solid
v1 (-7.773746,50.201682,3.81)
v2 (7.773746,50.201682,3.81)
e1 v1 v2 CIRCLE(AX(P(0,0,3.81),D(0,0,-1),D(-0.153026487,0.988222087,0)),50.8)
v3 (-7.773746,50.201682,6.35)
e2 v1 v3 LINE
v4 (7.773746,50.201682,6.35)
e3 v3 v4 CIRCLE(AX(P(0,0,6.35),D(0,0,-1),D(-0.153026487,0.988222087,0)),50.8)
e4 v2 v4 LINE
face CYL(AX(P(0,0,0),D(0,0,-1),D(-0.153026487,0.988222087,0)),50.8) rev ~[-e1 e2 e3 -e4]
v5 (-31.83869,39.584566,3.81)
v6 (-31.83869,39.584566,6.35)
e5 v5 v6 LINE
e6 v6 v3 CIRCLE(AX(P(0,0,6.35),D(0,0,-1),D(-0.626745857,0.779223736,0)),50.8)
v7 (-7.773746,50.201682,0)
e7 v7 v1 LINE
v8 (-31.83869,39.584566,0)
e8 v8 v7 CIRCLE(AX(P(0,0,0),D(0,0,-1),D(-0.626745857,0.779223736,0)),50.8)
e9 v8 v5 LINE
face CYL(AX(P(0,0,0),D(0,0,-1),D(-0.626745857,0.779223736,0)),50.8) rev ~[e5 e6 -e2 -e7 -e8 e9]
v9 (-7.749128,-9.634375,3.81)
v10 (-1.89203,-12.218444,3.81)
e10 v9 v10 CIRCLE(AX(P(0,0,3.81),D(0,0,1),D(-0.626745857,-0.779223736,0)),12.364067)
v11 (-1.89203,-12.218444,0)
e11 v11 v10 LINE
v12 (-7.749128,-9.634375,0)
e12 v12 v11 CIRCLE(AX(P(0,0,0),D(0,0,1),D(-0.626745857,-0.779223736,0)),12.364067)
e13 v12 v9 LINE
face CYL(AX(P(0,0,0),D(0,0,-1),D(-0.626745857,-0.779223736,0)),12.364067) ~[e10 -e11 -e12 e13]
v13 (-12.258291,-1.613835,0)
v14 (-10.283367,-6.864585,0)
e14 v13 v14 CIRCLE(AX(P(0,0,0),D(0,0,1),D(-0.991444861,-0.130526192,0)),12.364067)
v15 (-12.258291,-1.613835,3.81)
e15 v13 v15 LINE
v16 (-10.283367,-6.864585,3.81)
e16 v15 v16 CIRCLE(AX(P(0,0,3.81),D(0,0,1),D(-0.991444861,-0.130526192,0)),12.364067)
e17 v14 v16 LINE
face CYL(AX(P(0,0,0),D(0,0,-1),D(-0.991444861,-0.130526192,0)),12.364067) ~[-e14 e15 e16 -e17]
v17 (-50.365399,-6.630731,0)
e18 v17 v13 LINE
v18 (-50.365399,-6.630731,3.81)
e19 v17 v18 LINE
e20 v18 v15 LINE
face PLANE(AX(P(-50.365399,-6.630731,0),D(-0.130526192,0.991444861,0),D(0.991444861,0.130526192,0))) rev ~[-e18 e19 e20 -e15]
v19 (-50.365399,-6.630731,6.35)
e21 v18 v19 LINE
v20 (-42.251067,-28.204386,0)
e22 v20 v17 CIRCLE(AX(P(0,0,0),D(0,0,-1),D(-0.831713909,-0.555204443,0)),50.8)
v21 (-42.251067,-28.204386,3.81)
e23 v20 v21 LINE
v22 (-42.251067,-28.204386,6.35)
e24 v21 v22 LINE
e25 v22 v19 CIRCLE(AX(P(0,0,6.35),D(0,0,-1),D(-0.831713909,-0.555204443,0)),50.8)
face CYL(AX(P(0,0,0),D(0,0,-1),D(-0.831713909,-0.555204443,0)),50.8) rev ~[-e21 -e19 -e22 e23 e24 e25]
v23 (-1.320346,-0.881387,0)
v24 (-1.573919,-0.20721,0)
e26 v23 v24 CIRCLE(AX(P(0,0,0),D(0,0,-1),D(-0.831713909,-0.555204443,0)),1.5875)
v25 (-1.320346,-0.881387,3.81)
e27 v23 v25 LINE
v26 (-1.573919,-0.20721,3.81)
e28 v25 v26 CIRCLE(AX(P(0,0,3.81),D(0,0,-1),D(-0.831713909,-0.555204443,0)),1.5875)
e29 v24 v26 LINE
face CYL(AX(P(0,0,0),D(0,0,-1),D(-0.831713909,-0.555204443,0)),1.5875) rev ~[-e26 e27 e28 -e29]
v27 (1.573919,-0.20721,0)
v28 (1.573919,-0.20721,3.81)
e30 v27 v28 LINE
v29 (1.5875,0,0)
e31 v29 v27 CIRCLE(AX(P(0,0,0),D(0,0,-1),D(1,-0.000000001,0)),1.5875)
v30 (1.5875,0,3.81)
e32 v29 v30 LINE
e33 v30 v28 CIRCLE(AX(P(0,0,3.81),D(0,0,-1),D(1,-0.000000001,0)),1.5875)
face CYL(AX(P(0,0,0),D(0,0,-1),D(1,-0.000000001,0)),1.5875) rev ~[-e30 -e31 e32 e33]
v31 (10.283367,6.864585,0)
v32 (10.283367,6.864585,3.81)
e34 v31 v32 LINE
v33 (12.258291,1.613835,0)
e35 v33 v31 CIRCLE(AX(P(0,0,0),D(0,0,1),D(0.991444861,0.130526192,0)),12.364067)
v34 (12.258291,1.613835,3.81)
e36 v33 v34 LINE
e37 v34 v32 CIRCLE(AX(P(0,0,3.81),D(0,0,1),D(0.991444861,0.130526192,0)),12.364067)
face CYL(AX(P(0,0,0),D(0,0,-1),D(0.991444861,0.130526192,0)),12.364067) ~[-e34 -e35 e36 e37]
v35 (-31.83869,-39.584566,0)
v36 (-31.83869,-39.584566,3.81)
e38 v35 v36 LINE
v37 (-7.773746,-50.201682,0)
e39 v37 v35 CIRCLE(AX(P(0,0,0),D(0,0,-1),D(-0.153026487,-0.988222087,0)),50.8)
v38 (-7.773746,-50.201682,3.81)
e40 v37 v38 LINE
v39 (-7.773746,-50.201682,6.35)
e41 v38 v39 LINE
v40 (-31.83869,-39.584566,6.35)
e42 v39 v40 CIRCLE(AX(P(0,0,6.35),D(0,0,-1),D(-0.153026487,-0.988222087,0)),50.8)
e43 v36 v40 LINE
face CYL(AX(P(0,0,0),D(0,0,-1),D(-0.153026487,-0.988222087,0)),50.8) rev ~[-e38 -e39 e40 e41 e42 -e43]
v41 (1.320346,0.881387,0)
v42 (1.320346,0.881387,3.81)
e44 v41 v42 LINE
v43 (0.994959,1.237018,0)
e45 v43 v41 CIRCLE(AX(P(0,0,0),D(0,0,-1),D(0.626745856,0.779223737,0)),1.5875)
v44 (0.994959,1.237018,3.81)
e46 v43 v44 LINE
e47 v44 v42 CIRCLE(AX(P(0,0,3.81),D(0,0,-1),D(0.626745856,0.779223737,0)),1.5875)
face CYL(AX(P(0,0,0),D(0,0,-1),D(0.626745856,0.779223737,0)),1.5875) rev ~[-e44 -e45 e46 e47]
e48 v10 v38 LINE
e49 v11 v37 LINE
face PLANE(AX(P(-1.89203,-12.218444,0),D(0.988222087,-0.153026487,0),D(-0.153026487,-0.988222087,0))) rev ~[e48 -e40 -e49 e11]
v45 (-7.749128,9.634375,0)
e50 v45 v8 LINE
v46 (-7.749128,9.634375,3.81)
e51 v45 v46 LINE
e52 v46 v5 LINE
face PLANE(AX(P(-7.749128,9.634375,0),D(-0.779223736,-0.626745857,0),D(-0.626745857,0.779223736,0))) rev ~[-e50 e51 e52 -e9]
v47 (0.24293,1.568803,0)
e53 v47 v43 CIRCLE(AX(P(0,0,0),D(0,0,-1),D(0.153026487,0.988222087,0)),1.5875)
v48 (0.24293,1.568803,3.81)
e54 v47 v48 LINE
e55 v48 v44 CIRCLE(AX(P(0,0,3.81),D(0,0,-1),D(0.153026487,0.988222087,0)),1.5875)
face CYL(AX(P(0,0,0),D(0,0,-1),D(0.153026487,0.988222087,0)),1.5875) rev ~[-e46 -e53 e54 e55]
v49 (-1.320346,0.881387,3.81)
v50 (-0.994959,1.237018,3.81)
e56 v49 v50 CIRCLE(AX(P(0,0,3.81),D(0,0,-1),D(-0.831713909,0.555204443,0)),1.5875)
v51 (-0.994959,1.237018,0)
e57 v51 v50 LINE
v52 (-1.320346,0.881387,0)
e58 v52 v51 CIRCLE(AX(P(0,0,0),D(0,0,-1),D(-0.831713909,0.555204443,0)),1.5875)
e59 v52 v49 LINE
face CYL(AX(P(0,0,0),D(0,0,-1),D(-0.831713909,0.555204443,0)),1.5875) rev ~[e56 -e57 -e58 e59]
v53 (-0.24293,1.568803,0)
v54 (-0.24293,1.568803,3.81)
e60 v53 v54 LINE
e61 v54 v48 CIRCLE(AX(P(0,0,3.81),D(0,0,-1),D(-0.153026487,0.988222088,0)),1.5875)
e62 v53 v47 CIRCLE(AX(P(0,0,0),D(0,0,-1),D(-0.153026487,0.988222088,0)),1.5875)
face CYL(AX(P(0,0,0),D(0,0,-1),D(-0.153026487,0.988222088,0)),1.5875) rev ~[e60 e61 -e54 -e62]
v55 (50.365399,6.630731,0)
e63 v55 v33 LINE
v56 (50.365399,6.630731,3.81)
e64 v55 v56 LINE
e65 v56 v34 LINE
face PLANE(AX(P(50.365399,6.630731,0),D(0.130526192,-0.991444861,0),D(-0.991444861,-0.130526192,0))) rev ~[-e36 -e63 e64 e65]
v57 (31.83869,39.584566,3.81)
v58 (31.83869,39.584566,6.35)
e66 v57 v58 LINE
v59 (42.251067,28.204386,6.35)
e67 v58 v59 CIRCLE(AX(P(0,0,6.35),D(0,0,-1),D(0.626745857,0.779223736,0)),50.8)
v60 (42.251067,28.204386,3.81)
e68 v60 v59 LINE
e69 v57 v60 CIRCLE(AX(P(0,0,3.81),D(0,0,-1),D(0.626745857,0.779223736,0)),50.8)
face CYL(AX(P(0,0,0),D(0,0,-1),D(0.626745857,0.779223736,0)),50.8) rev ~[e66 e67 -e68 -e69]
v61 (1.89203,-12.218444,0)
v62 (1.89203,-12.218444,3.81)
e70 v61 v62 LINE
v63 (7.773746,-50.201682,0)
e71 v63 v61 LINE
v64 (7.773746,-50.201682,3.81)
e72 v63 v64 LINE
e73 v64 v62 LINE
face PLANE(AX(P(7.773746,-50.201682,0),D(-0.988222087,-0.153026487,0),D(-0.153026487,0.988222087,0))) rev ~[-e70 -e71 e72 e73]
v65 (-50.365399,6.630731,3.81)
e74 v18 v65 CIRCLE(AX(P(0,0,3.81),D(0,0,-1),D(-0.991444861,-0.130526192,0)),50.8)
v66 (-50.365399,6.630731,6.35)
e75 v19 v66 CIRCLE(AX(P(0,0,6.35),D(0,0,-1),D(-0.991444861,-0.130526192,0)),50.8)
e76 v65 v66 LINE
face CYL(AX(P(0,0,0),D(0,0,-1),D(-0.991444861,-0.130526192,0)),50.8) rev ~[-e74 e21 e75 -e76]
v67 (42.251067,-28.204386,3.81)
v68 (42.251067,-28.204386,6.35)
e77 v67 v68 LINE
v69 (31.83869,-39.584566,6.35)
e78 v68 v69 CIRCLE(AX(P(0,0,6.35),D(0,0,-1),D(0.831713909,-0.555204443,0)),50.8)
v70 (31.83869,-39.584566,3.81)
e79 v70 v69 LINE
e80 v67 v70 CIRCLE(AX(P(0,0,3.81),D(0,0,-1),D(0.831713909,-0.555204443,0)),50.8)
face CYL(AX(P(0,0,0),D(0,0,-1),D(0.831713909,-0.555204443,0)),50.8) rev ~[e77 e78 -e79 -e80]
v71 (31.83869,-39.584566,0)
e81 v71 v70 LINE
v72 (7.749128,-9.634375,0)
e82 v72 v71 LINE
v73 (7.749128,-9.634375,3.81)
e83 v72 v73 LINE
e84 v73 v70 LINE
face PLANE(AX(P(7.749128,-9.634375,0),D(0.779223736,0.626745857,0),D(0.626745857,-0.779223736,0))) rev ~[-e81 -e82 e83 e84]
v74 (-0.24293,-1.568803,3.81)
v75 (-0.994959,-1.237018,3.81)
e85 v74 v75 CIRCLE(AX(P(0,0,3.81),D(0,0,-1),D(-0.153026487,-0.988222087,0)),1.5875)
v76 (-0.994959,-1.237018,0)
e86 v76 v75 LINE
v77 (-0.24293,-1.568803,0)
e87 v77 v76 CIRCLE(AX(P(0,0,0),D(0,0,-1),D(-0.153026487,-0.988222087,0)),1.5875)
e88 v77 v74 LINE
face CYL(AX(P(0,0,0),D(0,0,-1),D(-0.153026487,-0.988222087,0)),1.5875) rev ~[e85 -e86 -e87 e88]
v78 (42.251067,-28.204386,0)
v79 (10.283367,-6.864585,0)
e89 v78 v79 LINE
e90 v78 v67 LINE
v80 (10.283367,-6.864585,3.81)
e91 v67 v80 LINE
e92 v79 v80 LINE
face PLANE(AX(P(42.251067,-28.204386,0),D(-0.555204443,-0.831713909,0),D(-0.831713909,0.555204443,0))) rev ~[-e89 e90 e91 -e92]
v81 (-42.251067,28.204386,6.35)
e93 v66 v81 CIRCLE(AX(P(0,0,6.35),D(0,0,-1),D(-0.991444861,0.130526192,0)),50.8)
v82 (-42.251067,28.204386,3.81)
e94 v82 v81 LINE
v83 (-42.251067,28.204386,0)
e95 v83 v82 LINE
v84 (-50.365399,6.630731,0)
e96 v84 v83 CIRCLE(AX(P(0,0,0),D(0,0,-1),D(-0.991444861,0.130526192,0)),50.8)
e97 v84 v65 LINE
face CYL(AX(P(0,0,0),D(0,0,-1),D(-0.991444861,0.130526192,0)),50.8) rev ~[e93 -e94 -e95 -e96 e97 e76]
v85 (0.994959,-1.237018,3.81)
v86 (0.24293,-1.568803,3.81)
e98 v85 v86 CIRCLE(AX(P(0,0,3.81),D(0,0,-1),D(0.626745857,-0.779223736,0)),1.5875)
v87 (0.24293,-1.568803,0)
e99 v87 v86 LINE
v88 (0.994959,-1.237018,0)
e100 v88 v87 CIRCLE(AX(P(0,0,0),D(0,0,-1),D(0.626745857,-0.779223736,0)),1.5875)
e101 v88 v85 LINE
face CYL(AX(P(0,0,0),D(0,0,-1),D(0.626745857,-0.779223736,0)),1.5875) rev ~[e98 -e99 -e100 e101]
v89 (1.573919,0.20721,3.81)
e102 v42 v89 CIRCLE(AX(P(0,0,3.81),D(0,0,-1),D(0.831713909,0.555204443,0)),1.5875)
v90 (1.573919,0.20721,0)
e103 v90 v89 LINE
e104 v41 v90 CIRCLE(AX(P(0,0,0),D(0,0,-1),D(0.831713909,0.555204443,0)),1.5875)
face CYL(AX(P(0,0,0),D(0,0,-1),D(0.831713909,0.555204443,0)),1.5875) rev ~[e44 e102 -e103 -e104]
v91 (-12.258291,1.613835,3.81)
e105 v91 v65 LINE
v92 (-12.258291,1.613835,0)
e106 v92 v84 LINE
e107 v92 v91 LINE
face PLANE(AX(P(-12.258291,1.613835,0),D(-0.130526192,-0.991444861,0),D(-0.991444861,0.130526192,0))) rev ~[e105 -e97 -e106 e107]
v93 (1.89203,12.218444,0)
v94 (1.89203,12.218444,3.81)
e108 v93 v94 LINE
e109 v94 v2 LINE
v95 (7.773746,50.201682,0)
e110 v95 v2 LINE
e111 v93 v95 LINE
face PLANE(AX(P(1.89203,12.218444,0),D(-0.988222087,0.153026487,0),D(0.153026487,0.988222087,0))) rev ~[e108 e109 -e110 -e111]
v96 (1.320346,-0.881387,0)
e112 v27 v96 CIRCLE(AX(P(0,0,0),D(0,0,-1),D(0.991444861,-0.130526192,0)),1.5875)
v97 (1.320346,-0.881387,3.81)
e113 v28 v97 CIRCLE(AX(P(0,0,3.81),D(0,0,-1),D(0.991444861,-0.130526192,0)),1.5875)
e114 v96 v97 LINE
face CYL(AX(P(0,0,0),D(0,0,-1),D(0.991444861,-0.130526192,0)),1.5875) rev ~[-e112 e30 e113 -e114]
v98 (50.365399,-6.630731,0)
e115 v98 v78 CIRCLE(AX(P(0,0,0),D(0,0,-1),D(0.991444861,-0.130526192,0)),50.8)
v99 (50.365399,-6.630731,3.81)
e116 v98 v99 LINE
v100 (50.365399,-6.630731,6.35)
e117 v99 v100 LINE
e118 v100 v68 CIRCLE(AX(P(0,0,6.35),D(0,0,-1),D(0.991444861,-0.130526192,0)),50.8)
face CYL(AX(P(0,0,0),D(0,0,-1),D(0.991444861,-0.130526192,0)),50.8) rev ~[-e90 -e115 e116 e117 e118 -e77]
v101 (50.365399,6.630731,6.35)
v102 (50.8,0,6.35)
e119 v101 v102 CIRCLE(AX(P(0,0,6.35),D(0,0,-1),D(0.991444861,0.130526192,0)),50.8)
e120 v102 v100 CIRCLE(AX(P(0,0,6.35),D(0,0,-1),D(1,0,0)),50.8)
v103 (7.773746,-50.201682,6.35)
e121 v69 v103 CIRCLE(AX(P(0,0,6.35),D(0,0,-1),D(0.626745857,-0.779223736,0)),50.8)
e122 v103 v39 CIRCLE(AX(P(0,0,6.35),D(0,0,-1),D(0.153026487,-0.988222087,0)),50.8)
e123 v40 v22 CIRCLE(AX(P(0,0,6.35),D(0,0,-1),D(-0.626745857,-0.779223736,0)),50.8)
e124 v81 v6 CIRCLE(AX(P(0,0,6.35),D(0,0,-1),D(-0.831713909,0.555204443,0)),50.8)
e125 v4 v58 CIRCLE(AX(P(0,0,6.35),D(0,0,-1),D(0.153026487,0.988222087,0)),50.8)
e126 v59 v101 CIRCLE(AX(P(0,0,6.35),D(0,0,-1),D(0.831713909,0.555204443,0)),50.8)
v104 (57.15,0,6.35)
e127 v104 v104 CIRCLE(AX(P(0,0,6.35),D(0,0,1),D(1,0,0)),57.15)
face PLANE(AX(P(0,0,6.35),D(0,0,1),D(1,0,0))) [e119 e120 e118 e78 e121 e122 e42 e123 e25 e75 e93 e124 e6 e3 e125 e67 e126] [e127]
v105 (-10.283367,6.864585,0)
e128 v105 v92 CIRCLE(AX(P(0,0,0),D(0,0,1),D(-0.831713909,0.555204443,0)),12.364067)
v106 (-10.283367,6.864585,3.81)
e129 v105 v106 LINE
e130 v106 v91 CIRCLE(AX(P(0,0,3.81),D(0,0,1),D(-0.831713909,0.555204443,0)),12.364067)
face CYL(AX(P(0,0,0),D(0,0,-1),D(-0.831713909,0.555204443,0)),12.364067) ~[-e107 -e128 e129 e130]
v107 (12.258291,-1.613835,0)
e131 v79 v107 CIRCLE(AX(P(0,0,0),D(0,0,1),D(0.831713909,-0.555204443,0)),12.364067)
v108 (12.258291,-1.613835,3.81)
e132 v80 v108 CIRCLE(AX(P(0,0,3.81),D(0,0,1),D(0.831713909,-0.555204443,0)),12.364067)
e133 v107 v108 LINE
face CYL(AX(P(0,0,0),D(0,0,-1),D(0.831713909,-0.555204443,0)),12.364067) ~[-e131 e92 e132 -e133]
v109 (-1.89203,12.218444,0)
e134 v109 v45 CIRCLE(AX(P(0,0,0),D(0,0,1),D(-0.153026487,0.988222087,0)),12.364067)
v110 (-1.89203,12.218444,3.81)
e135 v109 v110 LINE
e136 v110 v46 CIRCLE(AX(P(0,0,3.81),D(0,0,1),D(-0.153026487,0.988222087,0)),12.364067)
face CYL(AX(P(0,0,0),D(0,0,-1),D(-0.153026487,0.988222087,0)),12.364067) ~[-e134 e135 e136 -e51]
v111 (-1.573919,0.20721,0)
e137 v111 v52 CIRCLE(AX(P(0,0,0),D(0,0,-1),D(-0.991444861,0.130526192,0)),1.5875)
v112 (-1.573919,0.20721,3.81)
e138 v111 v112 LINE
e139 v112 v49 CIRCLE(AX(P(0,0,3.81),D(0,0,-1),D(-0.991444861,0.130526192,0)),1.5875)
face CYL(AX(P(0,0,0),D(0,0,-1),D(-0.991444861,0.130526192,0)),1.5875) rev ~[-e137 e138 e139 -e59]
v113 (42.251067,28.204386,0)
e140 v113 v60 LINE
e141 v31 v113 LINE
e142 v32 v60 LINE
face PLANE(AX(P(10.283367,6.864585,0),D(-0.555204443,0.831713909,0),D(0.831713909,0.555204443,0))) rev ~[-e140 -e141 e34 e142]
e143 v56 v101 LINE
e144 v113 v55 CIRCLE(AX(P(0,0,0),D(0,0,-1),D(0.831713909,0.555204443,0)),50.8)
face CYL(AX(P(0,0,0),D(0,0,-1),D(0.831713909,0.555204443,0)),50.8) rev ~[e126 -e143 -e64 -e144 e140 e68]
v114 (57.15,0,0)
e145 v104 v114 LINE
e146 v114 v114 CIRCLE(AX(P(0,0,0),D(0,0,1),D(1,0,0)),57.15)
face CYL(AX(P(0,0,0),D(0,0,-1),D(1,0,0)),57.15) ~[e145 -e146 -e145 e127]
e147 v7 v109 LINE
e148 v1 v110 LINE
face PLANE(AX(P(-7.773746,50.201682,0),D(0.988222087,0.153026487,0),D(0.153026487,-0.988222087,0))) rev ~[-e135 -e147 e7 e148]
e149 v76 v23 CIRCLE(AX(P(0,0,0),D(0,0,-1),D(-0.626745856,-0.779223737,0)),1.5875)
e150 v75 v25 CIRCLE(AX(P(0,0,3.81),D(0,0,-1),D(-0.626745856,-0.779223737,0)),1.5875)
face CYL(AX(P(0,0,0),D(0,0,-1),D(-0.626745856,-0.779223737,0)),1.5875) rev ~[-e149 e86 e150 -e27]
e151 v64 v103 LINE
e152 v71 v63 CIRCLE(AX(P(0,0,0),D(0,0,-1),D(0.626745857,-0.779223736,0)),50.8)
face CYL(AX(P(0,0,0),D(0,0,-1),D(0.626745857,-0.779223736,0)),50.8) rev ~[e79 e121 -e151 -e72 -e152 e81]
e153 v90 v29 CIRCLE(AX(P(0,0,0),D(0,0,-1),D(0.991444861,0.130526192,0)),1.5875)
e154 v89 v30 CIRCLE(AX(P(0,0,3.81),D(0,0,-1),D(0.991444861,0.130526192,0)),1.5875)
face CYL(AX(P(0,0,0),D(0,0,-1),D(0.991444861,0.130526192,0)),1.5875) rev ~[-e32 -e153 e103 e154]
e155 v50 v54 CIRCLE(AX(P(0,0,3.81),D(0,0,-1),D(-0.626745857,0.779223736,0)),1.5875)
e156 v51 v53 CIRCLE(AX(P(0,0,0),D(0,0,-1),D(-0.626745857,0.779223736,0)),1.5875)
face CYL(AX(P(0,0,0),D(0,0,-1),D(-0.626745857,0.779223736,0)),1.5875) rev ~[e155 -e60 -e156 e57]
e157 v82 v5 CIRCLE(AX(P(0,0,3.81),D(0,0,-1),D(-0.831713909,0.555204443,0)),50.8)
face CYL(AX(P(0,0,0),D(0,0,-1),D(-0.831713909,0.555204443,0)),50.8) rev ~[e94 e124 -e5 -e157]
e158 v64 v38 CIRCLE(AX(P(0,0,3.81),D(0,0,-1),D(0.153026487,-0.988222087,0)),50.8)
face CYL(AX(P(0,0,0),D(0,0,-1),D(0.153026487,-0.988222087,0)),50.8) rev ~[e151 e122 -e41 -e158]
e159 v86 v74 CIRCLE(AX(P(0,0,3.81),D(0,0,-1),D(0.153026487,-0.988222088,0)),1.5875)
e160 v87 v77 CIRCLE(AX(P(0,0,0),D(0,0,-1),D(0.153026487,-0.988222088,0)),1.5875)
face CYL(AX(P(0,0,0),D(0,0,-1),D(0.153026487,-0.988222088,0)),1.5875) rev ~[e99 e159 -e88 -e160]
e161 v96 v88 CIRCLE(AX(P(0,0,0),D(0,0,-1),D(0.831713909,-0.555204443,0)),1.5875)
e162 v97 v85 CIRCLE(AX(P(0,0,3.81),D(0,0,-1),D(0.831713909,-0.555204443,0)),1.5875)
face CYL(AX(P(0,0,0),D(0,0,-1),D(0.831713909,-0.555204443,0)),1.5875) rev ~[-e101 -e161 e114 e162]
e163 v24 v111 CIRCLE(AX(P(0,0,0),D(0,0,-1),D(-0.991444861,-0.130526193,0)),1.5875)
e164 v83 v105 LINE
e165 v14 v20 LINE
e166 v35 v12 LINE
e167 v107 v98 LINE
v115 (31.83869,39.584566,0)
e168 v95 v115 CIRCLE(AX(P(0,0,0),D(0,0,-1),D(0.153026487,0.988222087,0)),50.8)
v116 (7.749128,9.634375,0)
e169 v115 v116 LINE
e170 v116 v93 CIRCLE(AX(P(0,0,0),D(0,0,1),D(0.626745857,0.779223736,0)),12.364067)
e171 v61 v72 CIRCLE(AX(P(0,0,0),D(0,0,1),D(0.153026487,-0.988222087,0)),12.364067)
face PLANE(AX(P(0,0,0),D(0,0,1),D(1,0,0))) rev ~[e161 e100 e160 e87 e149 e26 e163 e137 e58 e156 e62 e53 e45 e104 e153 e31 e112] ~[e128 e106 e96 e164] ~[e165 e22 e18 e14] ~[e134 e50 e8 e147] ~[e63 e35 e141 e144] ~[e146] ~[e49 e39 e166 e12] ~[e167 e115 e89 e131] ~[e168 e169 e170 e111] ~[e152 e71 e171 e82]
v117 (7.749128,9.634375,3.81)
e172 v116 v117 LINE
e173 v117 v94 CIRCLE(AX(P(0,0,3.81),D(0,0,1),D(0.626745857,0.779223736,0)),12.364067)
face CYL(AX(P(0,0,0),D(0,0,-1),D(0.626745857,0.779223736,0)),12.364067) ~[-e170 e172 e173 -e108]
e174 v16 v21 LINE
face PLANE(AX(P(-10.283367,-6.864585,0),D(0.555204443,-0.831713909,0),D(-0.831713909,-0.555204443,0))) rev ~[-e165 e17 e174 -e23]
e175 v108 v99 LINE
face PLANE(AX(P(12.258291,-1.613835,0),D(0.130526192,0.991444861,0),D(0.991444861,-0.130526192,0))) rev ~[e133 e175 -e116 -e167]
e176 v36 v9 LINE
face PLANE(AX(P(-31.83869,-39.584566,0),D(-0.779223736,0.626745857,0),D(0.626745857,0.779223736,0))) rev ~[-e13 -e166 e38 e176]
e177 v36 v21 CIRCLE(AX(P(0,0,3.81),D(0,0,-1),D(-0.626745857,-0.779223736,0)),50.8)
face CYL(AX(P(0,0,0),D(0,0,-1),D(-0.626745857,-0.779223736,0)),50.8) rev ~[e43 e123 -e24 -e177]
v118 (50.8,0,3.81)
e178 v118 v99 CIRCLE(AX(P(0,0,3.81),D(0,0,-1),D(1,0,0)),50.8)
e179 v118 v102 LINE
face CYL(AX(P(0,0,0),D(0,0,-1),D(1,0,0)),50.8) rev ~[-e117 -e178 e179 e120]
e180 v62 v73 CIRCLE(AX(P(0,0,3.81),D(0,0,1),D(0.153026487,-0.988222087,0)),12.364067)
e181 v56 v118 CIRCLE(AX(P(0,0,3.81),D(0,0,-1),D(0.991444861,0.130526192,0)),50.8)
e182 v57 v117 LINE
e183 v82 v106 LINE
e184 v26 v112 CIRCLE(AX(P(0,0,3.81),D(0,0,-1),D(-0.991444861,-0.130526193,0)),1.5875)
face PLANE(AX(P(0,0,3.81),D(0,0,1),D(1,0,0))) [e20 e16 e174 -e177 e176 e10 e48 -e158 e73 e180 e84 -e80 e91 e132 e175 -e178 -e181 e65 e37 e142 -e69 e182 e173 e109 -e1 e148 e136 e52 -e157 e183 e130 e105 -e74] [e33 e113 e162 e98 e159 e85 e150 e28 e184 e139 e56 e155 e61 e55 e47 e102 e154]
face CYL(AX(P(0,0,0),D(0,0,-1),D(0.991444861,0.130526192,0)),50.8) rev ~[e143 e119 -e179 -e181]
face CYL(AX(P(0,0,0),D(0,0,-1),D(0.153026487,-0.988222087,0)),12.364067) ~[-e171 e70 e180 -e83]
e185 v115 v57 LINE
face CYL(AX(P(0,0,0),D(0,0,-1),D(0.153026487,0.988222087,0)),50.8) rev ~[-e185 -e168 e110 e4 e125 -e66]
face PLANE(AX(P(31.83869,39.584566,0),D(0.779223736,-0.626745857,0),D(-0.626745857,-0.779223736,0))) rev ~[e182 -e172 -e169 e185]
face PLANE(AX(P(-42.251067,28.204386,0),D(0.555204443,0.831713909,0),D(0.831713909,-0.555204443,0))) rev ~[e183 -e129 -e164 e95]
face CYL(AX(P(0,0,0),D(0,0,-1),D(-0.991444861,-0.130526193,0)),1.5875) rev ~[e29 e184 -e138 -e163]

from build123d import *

# Parameters (mm, degrees)
F0_R     = 57.15
F1_DEPTH = 6.35
F2_DEPTH = 3.81


with BuildPart() as f1:
    # F0 (on Top) → F1 (new body)
    with BuildSketch(Plane.XY):
        Circle(F0_R)
        with BuildLine():
            ThreePointArc((50.3653989578, 6.6307305648), (50.6912333005, 3.3224789649), (50.8, 0))
            ThreePointArc((50.8, 0), (50.6912333005, -3.3224789649), (50.3653989578, -6.6307305648))
            ThreePointArc((50.3653989578, -6.6307305648), (47.547955486, -17.8838454786), (42.2510665707, -28.2043857164))
            ThreePointArc((42.2510665707, -28.2043857164), (37.479329155, -34.2919799092), (31.8386895146, -39.5845658053))
            ThreePointArc((31.8386895146, -39.5845658053), (20.505293032, -46.4776608455), (7.7737455542, -50.2016820441))
            ThreePointArc((7.7737455542, -50.2016820441), (0, -50.8), (-7.7737455542, -50.2016820441))
            ThreePointArc((-7.7737455542, -50.2016820441), (-20.505293032, -46.4776608455), (-31.8386895146, -39.5845658053))
            ThreePointArc((-31.8386895146, -39.5845658053), (-37.479329155, -34.2919799092), (-42.2510665707, -28.2043857164))
            ThreePointArc((-42.2510665707, -28.2043857164), (-47.547955486, -17.8838454786), (-50.3653989578, -6.6307305648))
            ThreePointArc((-50.3653989578, -6.6307305648), (-50.8, 0), (-50.3653989578, 6.6307305648))
            ThreePointArc((-50.3653989578, 6.6307305648), (-47.547955486, 17.8838454786), (-42.2510665707, 28.2043857164))
            ThreePointArc((-42.2510665707, 28.2043857164), (-37.479329155, 34.2919799092), (-31.8386895146, 39.5845658053))
            ThreePointArc((-31.8386895146, 39.5845658053), (-20.505293032, 46.4776608455), (-7.7737455542, 50.2016820441))
            ThreePointArc((-7.7737455542, 50.2016820441), (0, 50.8), (7.7737455542, 50.2016820441))
            ThreePointArc((7.7737455542, 50.2016820441), (20.505293032, 46.4776608455), (31.8386895146, 39.5845658053))
            ThreePointArc((31.8386895146, 39.5845658053), (37.479329155, 34.2919799092), (42.2510665707, 28.2043857164))
            ThreePointArc((42.2510665707, 28.2043857164), (47.547955486, 17.8838454786), (50.3653989578, 6.6307305648))
        make_face(mode=Mode.SUBTRACT)
    extrude(amount=F1_DEPTH)

    # F0 (on Top) → F2 (join)
    with BuildSketch(Plane.XY):
        Circle(F0_R)
        with BuildLine():
            ThreePointArc((50.3653989578, 6.6307305648), (50.6912333005, 3.3224789649), (50.8, 0))
            ThreePointArc((50.8, 0), (50.6912333005, -3.3224789649), (50.3653989578, -6.6307305648))
            ThreePointArc((50.3653989578, -6.6307305648), (47.547955486, -17.8838454786), (42.2510665707, -28.2043857164))
            ThreePointArc((42.2510665707, -28.2043857164), (37.479329155, -34.2919799092), (31.8386895146, -39.5845658053))
            ThreePointArc((31.8386895146, -39.5845658053), (20.505293032, -46.4776608455), (7.7737455542, -50.2016820441))
            ThreePointArc((7.7737455542, -50.2016820441), (0, -50.8), (-7.7737455542, -50.2016820441))
            ThreePointArc((-7.7737455542, -50.2016820441), (-20.505293032, -46.4776608455), (-31.8386895146, -39.5845658053))
            ThreePointArc((-31.8386895146, -39.5845658053), (-37.479329155, -34.2919799092), (-42.2510665707, -28.2043857164))
            ThreePointArc((-42.2510665707, -28.2043857164), (-47.547955486, -17.8838454786), (-50.3653989578, -6.6307305648))
            ThreePointArc((-50.3653989578, -6.6307305648), (-50.8, 0), (-50.3653989578, 6.6307305648))
            ThreePointArc((-50.3653989578, 6.6307305648), (-47.547955486, 17.8838454786), (-42.2510665707, 28.2043857164))
            ThreePointArc((-42.2510665707, 28.2043857164), (-37.479329155, 34.2919799092), (-31.8386895146, 39.5845658053))
            ThreePointArc((-31.8386895146, 39.5845658053), (-20.505293032, 46.4776608455), (-7.7737455542, 50.2016820441))
            ThreePointArc((-7.7737455542, 50.2016820441), (0, 50.8), (7.7737455542, 50.2016820441))
            ThreePointArc((7.7737455542, 50.2016820441), (20.505293032, 46.4776608455), (31.8386895146, 39.5845658053))
            ThreePointArc((31.8386895146, 39.5845658053), (37.479329155, 34.2919799092), (42.2510665707, 28.2043857164))
            ThreePointArc((42.2510665707, 28.2043857164), (47.547955486, 17.8838454786), (50.3653989578, 6.6307305648))
        make_face(mode=Mode.SUBTRACT)
        with BuildLine():
            Line((-7.7491279332, 9.6343746957), (-31.8386895146, 39.5845658053))
            ThreePointArc((-31.8386895146, 39.5845658053), (-37.479329155, 34.2919799092), (-42.2510665707, 28.2043857164))
            Line((-42.2510665707, 28.2043857164), (-10.2833667202, 6.8645850858))
            ThreePointArc((-10.2833667202, 6.8645850858), (-9.1219871452, 8.3462272929), (-7.7491279332, 9.6343746957))
        make_face()
        with BuildLine():
            Line((1.8920297832, 12.2184443691), (7.7737455542, 50.2016820441))
            ThreePointArc((7.7737455542, 50.2016820441), (0, 50.8), (-7.7737455542, 50.2016820441))
            Line((-7.7737455542, 50.2016820441), (-1.8920297832, 12.2184443691))
            ThreePointArc((-1.8920297832, 12.2184443691), (0, 12.3640672718), (1.8920297832, 12.2184443691))
        make_face()
        with BuildLine():
            Line((10.2833667202, 6.8645850858), (42.2510665707, 28.2043857164))
            ThreePointArc((42.2510665707, 28.2043857164), (37.479329155, 34.2919799092), (31.8386895146, 39.5845658053))
            Line((31.8386895146, 39.5845658053), (7.7491279332, 9.6343746957))
            ThreePointArc((7.7491279332, 9.6343746957), (9.1219871452, 8.3462272929), (10.2833667202, 6.8645850858))
        make_face()
        with BuildLine():
            ThreePointArc((50.3653989578, -6.6307305648), (50.6912333005, -3.3224789649), (50.8, 0))
            ThreePointArc((50.8, 0), (50.6912333005, 3.3224789649), (50.3653989578, 6.6307305648))
            Line((50.3653989578, 6.6307305648), (12.2582909623, 1.6138346213))
            ThreePointArc((12.2582909623, 1.6138346213), (12.3375948547, 0.8086486896), (12.3640672718, 0))
            ThreePointArc((12.3640672718, 0), (12.3375948547, -0.8086486896), (12.2582909623, -1.6138346213))
            Line((12.2582909623, -1.6138346213), (50.3653989578, -6.6307305648))
        make_face()
        with BuildLine():
            ThreePointArc((31.8386895146, -39.5845658053), (37.479329155, -34.2919799092), (42.2510665707, -28.2043857164))
            Line((42.2510665707, -28.2043857164), (10.2833667202, -6.8645850858))
            ThreePointArc((10.2833667202, -6.8645850858), (9.1219871452, -8.3462272929), (7.7491279332, -9.6343746957))
            Line((7.7491279332, -9.6343746957), (31.8386895146, -39.5845658053))
        make_face()
        with BuildLine():
            ThreePointArc((-7.7737455542, -50.2016820441), (0, -50.8), (7.7737455542, -50.2016820441))
            Line((7.7737455542, -50.2016820441), (1.8920297832, -12.2184443691))
            ThreePointArc((1.8920297832, -12.2184443691), (0, -12.3640672718), (-1.8920297832, -12.2184443691))
            Line((-1.8920297832, -12.2184443691), (-7.7737455542, -50.2016820441))
        make_face()
        with BuildLine():
            Line((-31.8386895146, -39.5845658053), (-7.7491279332, -9.6343746957))
            ThreePointArc((-7.7491279332, -9.6343746957), (-9.1219871452, -8.3462272929), (-10.2833667202, -6.8645850858))
            Line((-10.2833667202, -6.8645850858), (-42.2510665707, -28.2043857164))
            ThreePointArc((-42.2510665707, -28.2043857164), (-37.479329155, -34.2919799092), (-31.8386895146, -39.5845658053))
        make_face()
        with BuildLine():
            ThreePointArc((-12.2582909623, -1.6138346213), (-12.3640672718, 0), (-12.2582909623, 1.6138346213))
            Line((-12.2582909623, 1.6138346213), (-50.3653989578, 6.6307305648))
            ThreePointArc((-50.3653989578, 6.6307305648), (-50.8, 0), (-50.3653989578, -6.6307305648))
            Line((-50.3653989578, -6.6307305648), (-12.2582909623, -1.6138346213))
        make_face()
        with BuildLine():
            ThreePointArc((1.8920297832, -12.2184443691), (4.9907248519, -11.3120654592), (7.7491279332, -9.6343746957))
            Line((7.7491279332, -9.6343746957), (0.9949590473, -1.2370176814))
            ThreePointArc((0.9949590473, -1.2370176814), (0.6407904073, -1.4524269014), (0.2429295486, -1.5688025639))
            Line((0.2429295486, -1.5688025639), (1.8920297832, -12.2184443691))
        make_face()
        with BuildLine():
            ThreePointArc((10.2833667202, -6.8645850858), (11.5725614225, -4.3526982003), (12.2582909623, -1.6138346213))
            Line((12.2582909623, -1.6138346213), (1.5739187174, -0.2072103301))
            ThreePointArc((1.5739187174, -0.2072103301), (1.4858736089, -0.5588701712), (1.3203458303, -0.8813870536))
            Line((1.3203458303, -0.8813870536), (10.2833667202, -6.8645850858))
        make_face()
        with BuildLine():
            Line((1.5739187174, 0.2072103301), (12.2582909623, 1.6138346213))
            ThreePointArc((12.2582909623, 1.6138346213), (11.5725614225, 4.3526982003), (10.2833667202, 6.8645850858))
            Line((10.2833667202, 6.8645850858), (1.3203458303, 0.8813870536))
            ThreePointArc((1.3203458303, 0.8813870536), (1.4858736089, 0.5588701712), (1.5739187174, 0.2072103301))
        make_face()
        with BuildLine():
            Line((0.9949590473, 1.2370176814), (7.7491279332, 9.6343746957))
            ThreePointArc((7.7491279332, 9.6343746957), (4.9907248519, 11.3120654592), (1.8920297832, 12.2184443691))
            Line((1.8920297832, 12.2184443691), (0.2429295486, 1.5688025639))
            ThreePointArc((0.2429295486, 1.5688025639), (0.6407904073, 1.4524269014), (0.9949590473, 1.2370176814))
        make_face()
        with BuildLine():
            ThreePointArc((-0.9949590473, 1.2370176814), (-0.6407904073, 1.4524269014), (-0.2429295486, 1.5688025639))
            Line((-0.2429295486, 1.5688025639), (-1.8920297832, 12.2184443691))
            ThreePointArc((-1.8920297832, 12.2184443691), (-4.9907248519, 11.3120654592), (-7.7491279332, 9.6343746957))
            Line((-7.7491279332, 9.6343746957), (-0.9949590473, 1.2370176814))
        make_face()
        with BuildLine():
            Line((-12.2582909623, 1.6138346213), (-1.5739187174, 0.2072103301))
            ThreePointArc((-1.5739187174, 0.2072103301), (-1.4858736089, 0.5588701712), (-1.3203458303, 0.8813870536))
            Line((-1.3203458303, 0.8813870536), (-10.2833667202, 6.8645850858))
            ThreePointArc((-10.2833667202, 6.8645850858), (-11.5725614225, 4.3526982003), (-12.2582909623, 1.6138346213))
        make_face()
        with BuildLine():
            ThreePointArc((-0.2429295486, -1.5688025639), (-0.6407904073, -1.4524269014), (-0.9949590473, -1.2370176814))
            Line((-0.9949590473, -1.2370176814), (-7.7491279332, -9.6343746957))
            ThreePointArc((-7.7491279332, -9.6343746957), (-4.9907248519, -11.3120654592), (-1.8920297832, -12.2184443691))
            Line((-1.8920297832, -12.2184443691), (-0.2429295486, -1.5688025639))
        make_face()
        with BuildLine():
            Line((1.8920297832, -12.2184443691), (0.2429295486, -1.5688025639))
            ThreePointArc((0.2429295486, -1.5688025639), (0, -1.5875), (-0.2429295486, -1.5688025639))
            Line((-0.2429295486, -1.5688025639), (-1.8920297832, -12.2184443691))
            ThreePointArc((-1.8920297832, -12.2184443691), (0, -12.3640672718), (1.8920297832, -12.2184443691))
        make_face()
        with BuildLine():
            ThreePointArc((7.7491279332, -9.6343746957), (9.1219871452, -8.3462272929), (10.2833667202, -6.8645850858))
            Line((10.2833667202, -6.8645850858), (1.3203458303, -0.8813870536))
            ThreePointArc((1.3203458303, -0.8813870536), (1.1712290361, -1.0716243722), (0.9949590473, -1.2370176814))
            Line((0.9949590473, -1.2370176814), (7.7491279332, -9.6343746957))
        make_face()
        with BuildLine():
            ThreePointArc((12.3640672718, 0), (12.3375948547, 0.8086486896), (12.2582909623, 1.6138346213))
            Line((12.2582909623, 1.6138346213), (1.5739187174, 0.2072103301))
            ThreePointArc((1.5739187174, 0.2072103301), (1.5841010406, 0.1038274677), (1.5875, 0))
            ThreePointArc((1.5875, 0), (1.5841010406, -0.1038274677), (1.5739187174, -0.2072103301))
            Line((1.5739187174, -0.2072103301), (12.2582909623, -1.6138346213))
            ThreePointArc((12.2582909623, -1.6138346213), (12.3375948547, -0.8086486896), (12.3640672718, 0))
        make_face()
        with BuildLine():
            Line((1.3203458303, 0.8813870536), (10.2833667202, 6.8645850858))
            ThreePointArc((10.2833667202, 6.8645850858), (9.1219871452, 8.3462272929), (7.7491279332, 9.6343746957))
            Line((7.7491279332, 9.6343746957), (0.9949590473, 1.2370176814))
            ThreePointArc((0.9949590473, 1.2370176814), (1.1712290361, 1.0716243722), (1.3203458303, 0.8813870536))
        make_face()
        with BuildLine():
            Line((0.2429295486, 1.5688025639), (1.8920297832, 12.2184443691))
            ThreePointArc((1.8920297832, 12.2184443691), (0, 12.3640672718), (-1.8920297832, 12.2184443691))
            Line((-1.8920297832, 12.2184443691), (-0.2429295486, 1.5688025639))
            ThreePointArc((-0.2429295486, 1.5688025639), (0, 1.5875), (0.2429295486, 1.5688025639))
        make_face()
        with BuildLine():
            Line((-10.2833667202, 6.8645850858), (-1.3203458303, 0.8813870536))
            ThreePointArc((-1.3203458303, 0.8813870536), (-1.1712290361, 1.0716243722), (-0.9949590473, 1.2370176814))
            Line((-0.9949590473, 1.2370176814), (-7.7491279332, 9.6343746957))
            ThreePointArc((-7.7491279332, 9.6343746957), (-9.1219871452, 8.3462272929), (-10.2833667202, 6.8645850858))
        make_face()
        with BuildLine():
            Line((-7.7491279332, -9.6343746957), (-0.9949590473, -1.2370176814))
            ThreePointArc((-0.9949590473, -1.2370176814), (-1.1712290361, -1.0716243722), (-1.3203458303, -0.8813870536))
            Line((-1.3203458303, -0.8813870536), (-10.2833667202, -6.8645850858))
            ThreePointArc((-10.2833667202, -6.8645850858), (-9.1219871452, -8.3462272929), (-7.7491279332, -9.6343746957))
        make_face()
        with BuildLine():
            ThreePointArc((-1.5739187174, -0.2072103301), (-1.5875, 0), (-1.5739187174, 0.2072103301))
            Line((-1.5739187174, 0.2072103301), (-12.2582909623, 1.6138346213))
            ThreePointArc((-12.2582909623, 1.6138346213), (-12.3640672718, 0), (-12.2582909623, -1.6138346213))
            Line((-12.2582909623, -1.6138346213), (-1.5739187174, -0.2072103301))
        make_face()
        with BuildLine():
            Line((-10.2833667202, -6.8645850858), (-1.3203458303, -0.8813870536))
            ThreePointArc((-1.3203458303, -0.8813870536), (-1.4858736089, -0.5588701712), (-1.5739187174, -0.2072103301))
            Line((-1.5739187174, -0.2072103301), (-12.2582909623, -1.6138346213))
            ThreePointArc((-12.2582909623, -1.6138346213), (-11.5725614225, -4.3526982003), (-10.2833667202, -6.8645850858))
        make_face()
    extrude(amount=F2_DEPTH)


solid = f1.part
